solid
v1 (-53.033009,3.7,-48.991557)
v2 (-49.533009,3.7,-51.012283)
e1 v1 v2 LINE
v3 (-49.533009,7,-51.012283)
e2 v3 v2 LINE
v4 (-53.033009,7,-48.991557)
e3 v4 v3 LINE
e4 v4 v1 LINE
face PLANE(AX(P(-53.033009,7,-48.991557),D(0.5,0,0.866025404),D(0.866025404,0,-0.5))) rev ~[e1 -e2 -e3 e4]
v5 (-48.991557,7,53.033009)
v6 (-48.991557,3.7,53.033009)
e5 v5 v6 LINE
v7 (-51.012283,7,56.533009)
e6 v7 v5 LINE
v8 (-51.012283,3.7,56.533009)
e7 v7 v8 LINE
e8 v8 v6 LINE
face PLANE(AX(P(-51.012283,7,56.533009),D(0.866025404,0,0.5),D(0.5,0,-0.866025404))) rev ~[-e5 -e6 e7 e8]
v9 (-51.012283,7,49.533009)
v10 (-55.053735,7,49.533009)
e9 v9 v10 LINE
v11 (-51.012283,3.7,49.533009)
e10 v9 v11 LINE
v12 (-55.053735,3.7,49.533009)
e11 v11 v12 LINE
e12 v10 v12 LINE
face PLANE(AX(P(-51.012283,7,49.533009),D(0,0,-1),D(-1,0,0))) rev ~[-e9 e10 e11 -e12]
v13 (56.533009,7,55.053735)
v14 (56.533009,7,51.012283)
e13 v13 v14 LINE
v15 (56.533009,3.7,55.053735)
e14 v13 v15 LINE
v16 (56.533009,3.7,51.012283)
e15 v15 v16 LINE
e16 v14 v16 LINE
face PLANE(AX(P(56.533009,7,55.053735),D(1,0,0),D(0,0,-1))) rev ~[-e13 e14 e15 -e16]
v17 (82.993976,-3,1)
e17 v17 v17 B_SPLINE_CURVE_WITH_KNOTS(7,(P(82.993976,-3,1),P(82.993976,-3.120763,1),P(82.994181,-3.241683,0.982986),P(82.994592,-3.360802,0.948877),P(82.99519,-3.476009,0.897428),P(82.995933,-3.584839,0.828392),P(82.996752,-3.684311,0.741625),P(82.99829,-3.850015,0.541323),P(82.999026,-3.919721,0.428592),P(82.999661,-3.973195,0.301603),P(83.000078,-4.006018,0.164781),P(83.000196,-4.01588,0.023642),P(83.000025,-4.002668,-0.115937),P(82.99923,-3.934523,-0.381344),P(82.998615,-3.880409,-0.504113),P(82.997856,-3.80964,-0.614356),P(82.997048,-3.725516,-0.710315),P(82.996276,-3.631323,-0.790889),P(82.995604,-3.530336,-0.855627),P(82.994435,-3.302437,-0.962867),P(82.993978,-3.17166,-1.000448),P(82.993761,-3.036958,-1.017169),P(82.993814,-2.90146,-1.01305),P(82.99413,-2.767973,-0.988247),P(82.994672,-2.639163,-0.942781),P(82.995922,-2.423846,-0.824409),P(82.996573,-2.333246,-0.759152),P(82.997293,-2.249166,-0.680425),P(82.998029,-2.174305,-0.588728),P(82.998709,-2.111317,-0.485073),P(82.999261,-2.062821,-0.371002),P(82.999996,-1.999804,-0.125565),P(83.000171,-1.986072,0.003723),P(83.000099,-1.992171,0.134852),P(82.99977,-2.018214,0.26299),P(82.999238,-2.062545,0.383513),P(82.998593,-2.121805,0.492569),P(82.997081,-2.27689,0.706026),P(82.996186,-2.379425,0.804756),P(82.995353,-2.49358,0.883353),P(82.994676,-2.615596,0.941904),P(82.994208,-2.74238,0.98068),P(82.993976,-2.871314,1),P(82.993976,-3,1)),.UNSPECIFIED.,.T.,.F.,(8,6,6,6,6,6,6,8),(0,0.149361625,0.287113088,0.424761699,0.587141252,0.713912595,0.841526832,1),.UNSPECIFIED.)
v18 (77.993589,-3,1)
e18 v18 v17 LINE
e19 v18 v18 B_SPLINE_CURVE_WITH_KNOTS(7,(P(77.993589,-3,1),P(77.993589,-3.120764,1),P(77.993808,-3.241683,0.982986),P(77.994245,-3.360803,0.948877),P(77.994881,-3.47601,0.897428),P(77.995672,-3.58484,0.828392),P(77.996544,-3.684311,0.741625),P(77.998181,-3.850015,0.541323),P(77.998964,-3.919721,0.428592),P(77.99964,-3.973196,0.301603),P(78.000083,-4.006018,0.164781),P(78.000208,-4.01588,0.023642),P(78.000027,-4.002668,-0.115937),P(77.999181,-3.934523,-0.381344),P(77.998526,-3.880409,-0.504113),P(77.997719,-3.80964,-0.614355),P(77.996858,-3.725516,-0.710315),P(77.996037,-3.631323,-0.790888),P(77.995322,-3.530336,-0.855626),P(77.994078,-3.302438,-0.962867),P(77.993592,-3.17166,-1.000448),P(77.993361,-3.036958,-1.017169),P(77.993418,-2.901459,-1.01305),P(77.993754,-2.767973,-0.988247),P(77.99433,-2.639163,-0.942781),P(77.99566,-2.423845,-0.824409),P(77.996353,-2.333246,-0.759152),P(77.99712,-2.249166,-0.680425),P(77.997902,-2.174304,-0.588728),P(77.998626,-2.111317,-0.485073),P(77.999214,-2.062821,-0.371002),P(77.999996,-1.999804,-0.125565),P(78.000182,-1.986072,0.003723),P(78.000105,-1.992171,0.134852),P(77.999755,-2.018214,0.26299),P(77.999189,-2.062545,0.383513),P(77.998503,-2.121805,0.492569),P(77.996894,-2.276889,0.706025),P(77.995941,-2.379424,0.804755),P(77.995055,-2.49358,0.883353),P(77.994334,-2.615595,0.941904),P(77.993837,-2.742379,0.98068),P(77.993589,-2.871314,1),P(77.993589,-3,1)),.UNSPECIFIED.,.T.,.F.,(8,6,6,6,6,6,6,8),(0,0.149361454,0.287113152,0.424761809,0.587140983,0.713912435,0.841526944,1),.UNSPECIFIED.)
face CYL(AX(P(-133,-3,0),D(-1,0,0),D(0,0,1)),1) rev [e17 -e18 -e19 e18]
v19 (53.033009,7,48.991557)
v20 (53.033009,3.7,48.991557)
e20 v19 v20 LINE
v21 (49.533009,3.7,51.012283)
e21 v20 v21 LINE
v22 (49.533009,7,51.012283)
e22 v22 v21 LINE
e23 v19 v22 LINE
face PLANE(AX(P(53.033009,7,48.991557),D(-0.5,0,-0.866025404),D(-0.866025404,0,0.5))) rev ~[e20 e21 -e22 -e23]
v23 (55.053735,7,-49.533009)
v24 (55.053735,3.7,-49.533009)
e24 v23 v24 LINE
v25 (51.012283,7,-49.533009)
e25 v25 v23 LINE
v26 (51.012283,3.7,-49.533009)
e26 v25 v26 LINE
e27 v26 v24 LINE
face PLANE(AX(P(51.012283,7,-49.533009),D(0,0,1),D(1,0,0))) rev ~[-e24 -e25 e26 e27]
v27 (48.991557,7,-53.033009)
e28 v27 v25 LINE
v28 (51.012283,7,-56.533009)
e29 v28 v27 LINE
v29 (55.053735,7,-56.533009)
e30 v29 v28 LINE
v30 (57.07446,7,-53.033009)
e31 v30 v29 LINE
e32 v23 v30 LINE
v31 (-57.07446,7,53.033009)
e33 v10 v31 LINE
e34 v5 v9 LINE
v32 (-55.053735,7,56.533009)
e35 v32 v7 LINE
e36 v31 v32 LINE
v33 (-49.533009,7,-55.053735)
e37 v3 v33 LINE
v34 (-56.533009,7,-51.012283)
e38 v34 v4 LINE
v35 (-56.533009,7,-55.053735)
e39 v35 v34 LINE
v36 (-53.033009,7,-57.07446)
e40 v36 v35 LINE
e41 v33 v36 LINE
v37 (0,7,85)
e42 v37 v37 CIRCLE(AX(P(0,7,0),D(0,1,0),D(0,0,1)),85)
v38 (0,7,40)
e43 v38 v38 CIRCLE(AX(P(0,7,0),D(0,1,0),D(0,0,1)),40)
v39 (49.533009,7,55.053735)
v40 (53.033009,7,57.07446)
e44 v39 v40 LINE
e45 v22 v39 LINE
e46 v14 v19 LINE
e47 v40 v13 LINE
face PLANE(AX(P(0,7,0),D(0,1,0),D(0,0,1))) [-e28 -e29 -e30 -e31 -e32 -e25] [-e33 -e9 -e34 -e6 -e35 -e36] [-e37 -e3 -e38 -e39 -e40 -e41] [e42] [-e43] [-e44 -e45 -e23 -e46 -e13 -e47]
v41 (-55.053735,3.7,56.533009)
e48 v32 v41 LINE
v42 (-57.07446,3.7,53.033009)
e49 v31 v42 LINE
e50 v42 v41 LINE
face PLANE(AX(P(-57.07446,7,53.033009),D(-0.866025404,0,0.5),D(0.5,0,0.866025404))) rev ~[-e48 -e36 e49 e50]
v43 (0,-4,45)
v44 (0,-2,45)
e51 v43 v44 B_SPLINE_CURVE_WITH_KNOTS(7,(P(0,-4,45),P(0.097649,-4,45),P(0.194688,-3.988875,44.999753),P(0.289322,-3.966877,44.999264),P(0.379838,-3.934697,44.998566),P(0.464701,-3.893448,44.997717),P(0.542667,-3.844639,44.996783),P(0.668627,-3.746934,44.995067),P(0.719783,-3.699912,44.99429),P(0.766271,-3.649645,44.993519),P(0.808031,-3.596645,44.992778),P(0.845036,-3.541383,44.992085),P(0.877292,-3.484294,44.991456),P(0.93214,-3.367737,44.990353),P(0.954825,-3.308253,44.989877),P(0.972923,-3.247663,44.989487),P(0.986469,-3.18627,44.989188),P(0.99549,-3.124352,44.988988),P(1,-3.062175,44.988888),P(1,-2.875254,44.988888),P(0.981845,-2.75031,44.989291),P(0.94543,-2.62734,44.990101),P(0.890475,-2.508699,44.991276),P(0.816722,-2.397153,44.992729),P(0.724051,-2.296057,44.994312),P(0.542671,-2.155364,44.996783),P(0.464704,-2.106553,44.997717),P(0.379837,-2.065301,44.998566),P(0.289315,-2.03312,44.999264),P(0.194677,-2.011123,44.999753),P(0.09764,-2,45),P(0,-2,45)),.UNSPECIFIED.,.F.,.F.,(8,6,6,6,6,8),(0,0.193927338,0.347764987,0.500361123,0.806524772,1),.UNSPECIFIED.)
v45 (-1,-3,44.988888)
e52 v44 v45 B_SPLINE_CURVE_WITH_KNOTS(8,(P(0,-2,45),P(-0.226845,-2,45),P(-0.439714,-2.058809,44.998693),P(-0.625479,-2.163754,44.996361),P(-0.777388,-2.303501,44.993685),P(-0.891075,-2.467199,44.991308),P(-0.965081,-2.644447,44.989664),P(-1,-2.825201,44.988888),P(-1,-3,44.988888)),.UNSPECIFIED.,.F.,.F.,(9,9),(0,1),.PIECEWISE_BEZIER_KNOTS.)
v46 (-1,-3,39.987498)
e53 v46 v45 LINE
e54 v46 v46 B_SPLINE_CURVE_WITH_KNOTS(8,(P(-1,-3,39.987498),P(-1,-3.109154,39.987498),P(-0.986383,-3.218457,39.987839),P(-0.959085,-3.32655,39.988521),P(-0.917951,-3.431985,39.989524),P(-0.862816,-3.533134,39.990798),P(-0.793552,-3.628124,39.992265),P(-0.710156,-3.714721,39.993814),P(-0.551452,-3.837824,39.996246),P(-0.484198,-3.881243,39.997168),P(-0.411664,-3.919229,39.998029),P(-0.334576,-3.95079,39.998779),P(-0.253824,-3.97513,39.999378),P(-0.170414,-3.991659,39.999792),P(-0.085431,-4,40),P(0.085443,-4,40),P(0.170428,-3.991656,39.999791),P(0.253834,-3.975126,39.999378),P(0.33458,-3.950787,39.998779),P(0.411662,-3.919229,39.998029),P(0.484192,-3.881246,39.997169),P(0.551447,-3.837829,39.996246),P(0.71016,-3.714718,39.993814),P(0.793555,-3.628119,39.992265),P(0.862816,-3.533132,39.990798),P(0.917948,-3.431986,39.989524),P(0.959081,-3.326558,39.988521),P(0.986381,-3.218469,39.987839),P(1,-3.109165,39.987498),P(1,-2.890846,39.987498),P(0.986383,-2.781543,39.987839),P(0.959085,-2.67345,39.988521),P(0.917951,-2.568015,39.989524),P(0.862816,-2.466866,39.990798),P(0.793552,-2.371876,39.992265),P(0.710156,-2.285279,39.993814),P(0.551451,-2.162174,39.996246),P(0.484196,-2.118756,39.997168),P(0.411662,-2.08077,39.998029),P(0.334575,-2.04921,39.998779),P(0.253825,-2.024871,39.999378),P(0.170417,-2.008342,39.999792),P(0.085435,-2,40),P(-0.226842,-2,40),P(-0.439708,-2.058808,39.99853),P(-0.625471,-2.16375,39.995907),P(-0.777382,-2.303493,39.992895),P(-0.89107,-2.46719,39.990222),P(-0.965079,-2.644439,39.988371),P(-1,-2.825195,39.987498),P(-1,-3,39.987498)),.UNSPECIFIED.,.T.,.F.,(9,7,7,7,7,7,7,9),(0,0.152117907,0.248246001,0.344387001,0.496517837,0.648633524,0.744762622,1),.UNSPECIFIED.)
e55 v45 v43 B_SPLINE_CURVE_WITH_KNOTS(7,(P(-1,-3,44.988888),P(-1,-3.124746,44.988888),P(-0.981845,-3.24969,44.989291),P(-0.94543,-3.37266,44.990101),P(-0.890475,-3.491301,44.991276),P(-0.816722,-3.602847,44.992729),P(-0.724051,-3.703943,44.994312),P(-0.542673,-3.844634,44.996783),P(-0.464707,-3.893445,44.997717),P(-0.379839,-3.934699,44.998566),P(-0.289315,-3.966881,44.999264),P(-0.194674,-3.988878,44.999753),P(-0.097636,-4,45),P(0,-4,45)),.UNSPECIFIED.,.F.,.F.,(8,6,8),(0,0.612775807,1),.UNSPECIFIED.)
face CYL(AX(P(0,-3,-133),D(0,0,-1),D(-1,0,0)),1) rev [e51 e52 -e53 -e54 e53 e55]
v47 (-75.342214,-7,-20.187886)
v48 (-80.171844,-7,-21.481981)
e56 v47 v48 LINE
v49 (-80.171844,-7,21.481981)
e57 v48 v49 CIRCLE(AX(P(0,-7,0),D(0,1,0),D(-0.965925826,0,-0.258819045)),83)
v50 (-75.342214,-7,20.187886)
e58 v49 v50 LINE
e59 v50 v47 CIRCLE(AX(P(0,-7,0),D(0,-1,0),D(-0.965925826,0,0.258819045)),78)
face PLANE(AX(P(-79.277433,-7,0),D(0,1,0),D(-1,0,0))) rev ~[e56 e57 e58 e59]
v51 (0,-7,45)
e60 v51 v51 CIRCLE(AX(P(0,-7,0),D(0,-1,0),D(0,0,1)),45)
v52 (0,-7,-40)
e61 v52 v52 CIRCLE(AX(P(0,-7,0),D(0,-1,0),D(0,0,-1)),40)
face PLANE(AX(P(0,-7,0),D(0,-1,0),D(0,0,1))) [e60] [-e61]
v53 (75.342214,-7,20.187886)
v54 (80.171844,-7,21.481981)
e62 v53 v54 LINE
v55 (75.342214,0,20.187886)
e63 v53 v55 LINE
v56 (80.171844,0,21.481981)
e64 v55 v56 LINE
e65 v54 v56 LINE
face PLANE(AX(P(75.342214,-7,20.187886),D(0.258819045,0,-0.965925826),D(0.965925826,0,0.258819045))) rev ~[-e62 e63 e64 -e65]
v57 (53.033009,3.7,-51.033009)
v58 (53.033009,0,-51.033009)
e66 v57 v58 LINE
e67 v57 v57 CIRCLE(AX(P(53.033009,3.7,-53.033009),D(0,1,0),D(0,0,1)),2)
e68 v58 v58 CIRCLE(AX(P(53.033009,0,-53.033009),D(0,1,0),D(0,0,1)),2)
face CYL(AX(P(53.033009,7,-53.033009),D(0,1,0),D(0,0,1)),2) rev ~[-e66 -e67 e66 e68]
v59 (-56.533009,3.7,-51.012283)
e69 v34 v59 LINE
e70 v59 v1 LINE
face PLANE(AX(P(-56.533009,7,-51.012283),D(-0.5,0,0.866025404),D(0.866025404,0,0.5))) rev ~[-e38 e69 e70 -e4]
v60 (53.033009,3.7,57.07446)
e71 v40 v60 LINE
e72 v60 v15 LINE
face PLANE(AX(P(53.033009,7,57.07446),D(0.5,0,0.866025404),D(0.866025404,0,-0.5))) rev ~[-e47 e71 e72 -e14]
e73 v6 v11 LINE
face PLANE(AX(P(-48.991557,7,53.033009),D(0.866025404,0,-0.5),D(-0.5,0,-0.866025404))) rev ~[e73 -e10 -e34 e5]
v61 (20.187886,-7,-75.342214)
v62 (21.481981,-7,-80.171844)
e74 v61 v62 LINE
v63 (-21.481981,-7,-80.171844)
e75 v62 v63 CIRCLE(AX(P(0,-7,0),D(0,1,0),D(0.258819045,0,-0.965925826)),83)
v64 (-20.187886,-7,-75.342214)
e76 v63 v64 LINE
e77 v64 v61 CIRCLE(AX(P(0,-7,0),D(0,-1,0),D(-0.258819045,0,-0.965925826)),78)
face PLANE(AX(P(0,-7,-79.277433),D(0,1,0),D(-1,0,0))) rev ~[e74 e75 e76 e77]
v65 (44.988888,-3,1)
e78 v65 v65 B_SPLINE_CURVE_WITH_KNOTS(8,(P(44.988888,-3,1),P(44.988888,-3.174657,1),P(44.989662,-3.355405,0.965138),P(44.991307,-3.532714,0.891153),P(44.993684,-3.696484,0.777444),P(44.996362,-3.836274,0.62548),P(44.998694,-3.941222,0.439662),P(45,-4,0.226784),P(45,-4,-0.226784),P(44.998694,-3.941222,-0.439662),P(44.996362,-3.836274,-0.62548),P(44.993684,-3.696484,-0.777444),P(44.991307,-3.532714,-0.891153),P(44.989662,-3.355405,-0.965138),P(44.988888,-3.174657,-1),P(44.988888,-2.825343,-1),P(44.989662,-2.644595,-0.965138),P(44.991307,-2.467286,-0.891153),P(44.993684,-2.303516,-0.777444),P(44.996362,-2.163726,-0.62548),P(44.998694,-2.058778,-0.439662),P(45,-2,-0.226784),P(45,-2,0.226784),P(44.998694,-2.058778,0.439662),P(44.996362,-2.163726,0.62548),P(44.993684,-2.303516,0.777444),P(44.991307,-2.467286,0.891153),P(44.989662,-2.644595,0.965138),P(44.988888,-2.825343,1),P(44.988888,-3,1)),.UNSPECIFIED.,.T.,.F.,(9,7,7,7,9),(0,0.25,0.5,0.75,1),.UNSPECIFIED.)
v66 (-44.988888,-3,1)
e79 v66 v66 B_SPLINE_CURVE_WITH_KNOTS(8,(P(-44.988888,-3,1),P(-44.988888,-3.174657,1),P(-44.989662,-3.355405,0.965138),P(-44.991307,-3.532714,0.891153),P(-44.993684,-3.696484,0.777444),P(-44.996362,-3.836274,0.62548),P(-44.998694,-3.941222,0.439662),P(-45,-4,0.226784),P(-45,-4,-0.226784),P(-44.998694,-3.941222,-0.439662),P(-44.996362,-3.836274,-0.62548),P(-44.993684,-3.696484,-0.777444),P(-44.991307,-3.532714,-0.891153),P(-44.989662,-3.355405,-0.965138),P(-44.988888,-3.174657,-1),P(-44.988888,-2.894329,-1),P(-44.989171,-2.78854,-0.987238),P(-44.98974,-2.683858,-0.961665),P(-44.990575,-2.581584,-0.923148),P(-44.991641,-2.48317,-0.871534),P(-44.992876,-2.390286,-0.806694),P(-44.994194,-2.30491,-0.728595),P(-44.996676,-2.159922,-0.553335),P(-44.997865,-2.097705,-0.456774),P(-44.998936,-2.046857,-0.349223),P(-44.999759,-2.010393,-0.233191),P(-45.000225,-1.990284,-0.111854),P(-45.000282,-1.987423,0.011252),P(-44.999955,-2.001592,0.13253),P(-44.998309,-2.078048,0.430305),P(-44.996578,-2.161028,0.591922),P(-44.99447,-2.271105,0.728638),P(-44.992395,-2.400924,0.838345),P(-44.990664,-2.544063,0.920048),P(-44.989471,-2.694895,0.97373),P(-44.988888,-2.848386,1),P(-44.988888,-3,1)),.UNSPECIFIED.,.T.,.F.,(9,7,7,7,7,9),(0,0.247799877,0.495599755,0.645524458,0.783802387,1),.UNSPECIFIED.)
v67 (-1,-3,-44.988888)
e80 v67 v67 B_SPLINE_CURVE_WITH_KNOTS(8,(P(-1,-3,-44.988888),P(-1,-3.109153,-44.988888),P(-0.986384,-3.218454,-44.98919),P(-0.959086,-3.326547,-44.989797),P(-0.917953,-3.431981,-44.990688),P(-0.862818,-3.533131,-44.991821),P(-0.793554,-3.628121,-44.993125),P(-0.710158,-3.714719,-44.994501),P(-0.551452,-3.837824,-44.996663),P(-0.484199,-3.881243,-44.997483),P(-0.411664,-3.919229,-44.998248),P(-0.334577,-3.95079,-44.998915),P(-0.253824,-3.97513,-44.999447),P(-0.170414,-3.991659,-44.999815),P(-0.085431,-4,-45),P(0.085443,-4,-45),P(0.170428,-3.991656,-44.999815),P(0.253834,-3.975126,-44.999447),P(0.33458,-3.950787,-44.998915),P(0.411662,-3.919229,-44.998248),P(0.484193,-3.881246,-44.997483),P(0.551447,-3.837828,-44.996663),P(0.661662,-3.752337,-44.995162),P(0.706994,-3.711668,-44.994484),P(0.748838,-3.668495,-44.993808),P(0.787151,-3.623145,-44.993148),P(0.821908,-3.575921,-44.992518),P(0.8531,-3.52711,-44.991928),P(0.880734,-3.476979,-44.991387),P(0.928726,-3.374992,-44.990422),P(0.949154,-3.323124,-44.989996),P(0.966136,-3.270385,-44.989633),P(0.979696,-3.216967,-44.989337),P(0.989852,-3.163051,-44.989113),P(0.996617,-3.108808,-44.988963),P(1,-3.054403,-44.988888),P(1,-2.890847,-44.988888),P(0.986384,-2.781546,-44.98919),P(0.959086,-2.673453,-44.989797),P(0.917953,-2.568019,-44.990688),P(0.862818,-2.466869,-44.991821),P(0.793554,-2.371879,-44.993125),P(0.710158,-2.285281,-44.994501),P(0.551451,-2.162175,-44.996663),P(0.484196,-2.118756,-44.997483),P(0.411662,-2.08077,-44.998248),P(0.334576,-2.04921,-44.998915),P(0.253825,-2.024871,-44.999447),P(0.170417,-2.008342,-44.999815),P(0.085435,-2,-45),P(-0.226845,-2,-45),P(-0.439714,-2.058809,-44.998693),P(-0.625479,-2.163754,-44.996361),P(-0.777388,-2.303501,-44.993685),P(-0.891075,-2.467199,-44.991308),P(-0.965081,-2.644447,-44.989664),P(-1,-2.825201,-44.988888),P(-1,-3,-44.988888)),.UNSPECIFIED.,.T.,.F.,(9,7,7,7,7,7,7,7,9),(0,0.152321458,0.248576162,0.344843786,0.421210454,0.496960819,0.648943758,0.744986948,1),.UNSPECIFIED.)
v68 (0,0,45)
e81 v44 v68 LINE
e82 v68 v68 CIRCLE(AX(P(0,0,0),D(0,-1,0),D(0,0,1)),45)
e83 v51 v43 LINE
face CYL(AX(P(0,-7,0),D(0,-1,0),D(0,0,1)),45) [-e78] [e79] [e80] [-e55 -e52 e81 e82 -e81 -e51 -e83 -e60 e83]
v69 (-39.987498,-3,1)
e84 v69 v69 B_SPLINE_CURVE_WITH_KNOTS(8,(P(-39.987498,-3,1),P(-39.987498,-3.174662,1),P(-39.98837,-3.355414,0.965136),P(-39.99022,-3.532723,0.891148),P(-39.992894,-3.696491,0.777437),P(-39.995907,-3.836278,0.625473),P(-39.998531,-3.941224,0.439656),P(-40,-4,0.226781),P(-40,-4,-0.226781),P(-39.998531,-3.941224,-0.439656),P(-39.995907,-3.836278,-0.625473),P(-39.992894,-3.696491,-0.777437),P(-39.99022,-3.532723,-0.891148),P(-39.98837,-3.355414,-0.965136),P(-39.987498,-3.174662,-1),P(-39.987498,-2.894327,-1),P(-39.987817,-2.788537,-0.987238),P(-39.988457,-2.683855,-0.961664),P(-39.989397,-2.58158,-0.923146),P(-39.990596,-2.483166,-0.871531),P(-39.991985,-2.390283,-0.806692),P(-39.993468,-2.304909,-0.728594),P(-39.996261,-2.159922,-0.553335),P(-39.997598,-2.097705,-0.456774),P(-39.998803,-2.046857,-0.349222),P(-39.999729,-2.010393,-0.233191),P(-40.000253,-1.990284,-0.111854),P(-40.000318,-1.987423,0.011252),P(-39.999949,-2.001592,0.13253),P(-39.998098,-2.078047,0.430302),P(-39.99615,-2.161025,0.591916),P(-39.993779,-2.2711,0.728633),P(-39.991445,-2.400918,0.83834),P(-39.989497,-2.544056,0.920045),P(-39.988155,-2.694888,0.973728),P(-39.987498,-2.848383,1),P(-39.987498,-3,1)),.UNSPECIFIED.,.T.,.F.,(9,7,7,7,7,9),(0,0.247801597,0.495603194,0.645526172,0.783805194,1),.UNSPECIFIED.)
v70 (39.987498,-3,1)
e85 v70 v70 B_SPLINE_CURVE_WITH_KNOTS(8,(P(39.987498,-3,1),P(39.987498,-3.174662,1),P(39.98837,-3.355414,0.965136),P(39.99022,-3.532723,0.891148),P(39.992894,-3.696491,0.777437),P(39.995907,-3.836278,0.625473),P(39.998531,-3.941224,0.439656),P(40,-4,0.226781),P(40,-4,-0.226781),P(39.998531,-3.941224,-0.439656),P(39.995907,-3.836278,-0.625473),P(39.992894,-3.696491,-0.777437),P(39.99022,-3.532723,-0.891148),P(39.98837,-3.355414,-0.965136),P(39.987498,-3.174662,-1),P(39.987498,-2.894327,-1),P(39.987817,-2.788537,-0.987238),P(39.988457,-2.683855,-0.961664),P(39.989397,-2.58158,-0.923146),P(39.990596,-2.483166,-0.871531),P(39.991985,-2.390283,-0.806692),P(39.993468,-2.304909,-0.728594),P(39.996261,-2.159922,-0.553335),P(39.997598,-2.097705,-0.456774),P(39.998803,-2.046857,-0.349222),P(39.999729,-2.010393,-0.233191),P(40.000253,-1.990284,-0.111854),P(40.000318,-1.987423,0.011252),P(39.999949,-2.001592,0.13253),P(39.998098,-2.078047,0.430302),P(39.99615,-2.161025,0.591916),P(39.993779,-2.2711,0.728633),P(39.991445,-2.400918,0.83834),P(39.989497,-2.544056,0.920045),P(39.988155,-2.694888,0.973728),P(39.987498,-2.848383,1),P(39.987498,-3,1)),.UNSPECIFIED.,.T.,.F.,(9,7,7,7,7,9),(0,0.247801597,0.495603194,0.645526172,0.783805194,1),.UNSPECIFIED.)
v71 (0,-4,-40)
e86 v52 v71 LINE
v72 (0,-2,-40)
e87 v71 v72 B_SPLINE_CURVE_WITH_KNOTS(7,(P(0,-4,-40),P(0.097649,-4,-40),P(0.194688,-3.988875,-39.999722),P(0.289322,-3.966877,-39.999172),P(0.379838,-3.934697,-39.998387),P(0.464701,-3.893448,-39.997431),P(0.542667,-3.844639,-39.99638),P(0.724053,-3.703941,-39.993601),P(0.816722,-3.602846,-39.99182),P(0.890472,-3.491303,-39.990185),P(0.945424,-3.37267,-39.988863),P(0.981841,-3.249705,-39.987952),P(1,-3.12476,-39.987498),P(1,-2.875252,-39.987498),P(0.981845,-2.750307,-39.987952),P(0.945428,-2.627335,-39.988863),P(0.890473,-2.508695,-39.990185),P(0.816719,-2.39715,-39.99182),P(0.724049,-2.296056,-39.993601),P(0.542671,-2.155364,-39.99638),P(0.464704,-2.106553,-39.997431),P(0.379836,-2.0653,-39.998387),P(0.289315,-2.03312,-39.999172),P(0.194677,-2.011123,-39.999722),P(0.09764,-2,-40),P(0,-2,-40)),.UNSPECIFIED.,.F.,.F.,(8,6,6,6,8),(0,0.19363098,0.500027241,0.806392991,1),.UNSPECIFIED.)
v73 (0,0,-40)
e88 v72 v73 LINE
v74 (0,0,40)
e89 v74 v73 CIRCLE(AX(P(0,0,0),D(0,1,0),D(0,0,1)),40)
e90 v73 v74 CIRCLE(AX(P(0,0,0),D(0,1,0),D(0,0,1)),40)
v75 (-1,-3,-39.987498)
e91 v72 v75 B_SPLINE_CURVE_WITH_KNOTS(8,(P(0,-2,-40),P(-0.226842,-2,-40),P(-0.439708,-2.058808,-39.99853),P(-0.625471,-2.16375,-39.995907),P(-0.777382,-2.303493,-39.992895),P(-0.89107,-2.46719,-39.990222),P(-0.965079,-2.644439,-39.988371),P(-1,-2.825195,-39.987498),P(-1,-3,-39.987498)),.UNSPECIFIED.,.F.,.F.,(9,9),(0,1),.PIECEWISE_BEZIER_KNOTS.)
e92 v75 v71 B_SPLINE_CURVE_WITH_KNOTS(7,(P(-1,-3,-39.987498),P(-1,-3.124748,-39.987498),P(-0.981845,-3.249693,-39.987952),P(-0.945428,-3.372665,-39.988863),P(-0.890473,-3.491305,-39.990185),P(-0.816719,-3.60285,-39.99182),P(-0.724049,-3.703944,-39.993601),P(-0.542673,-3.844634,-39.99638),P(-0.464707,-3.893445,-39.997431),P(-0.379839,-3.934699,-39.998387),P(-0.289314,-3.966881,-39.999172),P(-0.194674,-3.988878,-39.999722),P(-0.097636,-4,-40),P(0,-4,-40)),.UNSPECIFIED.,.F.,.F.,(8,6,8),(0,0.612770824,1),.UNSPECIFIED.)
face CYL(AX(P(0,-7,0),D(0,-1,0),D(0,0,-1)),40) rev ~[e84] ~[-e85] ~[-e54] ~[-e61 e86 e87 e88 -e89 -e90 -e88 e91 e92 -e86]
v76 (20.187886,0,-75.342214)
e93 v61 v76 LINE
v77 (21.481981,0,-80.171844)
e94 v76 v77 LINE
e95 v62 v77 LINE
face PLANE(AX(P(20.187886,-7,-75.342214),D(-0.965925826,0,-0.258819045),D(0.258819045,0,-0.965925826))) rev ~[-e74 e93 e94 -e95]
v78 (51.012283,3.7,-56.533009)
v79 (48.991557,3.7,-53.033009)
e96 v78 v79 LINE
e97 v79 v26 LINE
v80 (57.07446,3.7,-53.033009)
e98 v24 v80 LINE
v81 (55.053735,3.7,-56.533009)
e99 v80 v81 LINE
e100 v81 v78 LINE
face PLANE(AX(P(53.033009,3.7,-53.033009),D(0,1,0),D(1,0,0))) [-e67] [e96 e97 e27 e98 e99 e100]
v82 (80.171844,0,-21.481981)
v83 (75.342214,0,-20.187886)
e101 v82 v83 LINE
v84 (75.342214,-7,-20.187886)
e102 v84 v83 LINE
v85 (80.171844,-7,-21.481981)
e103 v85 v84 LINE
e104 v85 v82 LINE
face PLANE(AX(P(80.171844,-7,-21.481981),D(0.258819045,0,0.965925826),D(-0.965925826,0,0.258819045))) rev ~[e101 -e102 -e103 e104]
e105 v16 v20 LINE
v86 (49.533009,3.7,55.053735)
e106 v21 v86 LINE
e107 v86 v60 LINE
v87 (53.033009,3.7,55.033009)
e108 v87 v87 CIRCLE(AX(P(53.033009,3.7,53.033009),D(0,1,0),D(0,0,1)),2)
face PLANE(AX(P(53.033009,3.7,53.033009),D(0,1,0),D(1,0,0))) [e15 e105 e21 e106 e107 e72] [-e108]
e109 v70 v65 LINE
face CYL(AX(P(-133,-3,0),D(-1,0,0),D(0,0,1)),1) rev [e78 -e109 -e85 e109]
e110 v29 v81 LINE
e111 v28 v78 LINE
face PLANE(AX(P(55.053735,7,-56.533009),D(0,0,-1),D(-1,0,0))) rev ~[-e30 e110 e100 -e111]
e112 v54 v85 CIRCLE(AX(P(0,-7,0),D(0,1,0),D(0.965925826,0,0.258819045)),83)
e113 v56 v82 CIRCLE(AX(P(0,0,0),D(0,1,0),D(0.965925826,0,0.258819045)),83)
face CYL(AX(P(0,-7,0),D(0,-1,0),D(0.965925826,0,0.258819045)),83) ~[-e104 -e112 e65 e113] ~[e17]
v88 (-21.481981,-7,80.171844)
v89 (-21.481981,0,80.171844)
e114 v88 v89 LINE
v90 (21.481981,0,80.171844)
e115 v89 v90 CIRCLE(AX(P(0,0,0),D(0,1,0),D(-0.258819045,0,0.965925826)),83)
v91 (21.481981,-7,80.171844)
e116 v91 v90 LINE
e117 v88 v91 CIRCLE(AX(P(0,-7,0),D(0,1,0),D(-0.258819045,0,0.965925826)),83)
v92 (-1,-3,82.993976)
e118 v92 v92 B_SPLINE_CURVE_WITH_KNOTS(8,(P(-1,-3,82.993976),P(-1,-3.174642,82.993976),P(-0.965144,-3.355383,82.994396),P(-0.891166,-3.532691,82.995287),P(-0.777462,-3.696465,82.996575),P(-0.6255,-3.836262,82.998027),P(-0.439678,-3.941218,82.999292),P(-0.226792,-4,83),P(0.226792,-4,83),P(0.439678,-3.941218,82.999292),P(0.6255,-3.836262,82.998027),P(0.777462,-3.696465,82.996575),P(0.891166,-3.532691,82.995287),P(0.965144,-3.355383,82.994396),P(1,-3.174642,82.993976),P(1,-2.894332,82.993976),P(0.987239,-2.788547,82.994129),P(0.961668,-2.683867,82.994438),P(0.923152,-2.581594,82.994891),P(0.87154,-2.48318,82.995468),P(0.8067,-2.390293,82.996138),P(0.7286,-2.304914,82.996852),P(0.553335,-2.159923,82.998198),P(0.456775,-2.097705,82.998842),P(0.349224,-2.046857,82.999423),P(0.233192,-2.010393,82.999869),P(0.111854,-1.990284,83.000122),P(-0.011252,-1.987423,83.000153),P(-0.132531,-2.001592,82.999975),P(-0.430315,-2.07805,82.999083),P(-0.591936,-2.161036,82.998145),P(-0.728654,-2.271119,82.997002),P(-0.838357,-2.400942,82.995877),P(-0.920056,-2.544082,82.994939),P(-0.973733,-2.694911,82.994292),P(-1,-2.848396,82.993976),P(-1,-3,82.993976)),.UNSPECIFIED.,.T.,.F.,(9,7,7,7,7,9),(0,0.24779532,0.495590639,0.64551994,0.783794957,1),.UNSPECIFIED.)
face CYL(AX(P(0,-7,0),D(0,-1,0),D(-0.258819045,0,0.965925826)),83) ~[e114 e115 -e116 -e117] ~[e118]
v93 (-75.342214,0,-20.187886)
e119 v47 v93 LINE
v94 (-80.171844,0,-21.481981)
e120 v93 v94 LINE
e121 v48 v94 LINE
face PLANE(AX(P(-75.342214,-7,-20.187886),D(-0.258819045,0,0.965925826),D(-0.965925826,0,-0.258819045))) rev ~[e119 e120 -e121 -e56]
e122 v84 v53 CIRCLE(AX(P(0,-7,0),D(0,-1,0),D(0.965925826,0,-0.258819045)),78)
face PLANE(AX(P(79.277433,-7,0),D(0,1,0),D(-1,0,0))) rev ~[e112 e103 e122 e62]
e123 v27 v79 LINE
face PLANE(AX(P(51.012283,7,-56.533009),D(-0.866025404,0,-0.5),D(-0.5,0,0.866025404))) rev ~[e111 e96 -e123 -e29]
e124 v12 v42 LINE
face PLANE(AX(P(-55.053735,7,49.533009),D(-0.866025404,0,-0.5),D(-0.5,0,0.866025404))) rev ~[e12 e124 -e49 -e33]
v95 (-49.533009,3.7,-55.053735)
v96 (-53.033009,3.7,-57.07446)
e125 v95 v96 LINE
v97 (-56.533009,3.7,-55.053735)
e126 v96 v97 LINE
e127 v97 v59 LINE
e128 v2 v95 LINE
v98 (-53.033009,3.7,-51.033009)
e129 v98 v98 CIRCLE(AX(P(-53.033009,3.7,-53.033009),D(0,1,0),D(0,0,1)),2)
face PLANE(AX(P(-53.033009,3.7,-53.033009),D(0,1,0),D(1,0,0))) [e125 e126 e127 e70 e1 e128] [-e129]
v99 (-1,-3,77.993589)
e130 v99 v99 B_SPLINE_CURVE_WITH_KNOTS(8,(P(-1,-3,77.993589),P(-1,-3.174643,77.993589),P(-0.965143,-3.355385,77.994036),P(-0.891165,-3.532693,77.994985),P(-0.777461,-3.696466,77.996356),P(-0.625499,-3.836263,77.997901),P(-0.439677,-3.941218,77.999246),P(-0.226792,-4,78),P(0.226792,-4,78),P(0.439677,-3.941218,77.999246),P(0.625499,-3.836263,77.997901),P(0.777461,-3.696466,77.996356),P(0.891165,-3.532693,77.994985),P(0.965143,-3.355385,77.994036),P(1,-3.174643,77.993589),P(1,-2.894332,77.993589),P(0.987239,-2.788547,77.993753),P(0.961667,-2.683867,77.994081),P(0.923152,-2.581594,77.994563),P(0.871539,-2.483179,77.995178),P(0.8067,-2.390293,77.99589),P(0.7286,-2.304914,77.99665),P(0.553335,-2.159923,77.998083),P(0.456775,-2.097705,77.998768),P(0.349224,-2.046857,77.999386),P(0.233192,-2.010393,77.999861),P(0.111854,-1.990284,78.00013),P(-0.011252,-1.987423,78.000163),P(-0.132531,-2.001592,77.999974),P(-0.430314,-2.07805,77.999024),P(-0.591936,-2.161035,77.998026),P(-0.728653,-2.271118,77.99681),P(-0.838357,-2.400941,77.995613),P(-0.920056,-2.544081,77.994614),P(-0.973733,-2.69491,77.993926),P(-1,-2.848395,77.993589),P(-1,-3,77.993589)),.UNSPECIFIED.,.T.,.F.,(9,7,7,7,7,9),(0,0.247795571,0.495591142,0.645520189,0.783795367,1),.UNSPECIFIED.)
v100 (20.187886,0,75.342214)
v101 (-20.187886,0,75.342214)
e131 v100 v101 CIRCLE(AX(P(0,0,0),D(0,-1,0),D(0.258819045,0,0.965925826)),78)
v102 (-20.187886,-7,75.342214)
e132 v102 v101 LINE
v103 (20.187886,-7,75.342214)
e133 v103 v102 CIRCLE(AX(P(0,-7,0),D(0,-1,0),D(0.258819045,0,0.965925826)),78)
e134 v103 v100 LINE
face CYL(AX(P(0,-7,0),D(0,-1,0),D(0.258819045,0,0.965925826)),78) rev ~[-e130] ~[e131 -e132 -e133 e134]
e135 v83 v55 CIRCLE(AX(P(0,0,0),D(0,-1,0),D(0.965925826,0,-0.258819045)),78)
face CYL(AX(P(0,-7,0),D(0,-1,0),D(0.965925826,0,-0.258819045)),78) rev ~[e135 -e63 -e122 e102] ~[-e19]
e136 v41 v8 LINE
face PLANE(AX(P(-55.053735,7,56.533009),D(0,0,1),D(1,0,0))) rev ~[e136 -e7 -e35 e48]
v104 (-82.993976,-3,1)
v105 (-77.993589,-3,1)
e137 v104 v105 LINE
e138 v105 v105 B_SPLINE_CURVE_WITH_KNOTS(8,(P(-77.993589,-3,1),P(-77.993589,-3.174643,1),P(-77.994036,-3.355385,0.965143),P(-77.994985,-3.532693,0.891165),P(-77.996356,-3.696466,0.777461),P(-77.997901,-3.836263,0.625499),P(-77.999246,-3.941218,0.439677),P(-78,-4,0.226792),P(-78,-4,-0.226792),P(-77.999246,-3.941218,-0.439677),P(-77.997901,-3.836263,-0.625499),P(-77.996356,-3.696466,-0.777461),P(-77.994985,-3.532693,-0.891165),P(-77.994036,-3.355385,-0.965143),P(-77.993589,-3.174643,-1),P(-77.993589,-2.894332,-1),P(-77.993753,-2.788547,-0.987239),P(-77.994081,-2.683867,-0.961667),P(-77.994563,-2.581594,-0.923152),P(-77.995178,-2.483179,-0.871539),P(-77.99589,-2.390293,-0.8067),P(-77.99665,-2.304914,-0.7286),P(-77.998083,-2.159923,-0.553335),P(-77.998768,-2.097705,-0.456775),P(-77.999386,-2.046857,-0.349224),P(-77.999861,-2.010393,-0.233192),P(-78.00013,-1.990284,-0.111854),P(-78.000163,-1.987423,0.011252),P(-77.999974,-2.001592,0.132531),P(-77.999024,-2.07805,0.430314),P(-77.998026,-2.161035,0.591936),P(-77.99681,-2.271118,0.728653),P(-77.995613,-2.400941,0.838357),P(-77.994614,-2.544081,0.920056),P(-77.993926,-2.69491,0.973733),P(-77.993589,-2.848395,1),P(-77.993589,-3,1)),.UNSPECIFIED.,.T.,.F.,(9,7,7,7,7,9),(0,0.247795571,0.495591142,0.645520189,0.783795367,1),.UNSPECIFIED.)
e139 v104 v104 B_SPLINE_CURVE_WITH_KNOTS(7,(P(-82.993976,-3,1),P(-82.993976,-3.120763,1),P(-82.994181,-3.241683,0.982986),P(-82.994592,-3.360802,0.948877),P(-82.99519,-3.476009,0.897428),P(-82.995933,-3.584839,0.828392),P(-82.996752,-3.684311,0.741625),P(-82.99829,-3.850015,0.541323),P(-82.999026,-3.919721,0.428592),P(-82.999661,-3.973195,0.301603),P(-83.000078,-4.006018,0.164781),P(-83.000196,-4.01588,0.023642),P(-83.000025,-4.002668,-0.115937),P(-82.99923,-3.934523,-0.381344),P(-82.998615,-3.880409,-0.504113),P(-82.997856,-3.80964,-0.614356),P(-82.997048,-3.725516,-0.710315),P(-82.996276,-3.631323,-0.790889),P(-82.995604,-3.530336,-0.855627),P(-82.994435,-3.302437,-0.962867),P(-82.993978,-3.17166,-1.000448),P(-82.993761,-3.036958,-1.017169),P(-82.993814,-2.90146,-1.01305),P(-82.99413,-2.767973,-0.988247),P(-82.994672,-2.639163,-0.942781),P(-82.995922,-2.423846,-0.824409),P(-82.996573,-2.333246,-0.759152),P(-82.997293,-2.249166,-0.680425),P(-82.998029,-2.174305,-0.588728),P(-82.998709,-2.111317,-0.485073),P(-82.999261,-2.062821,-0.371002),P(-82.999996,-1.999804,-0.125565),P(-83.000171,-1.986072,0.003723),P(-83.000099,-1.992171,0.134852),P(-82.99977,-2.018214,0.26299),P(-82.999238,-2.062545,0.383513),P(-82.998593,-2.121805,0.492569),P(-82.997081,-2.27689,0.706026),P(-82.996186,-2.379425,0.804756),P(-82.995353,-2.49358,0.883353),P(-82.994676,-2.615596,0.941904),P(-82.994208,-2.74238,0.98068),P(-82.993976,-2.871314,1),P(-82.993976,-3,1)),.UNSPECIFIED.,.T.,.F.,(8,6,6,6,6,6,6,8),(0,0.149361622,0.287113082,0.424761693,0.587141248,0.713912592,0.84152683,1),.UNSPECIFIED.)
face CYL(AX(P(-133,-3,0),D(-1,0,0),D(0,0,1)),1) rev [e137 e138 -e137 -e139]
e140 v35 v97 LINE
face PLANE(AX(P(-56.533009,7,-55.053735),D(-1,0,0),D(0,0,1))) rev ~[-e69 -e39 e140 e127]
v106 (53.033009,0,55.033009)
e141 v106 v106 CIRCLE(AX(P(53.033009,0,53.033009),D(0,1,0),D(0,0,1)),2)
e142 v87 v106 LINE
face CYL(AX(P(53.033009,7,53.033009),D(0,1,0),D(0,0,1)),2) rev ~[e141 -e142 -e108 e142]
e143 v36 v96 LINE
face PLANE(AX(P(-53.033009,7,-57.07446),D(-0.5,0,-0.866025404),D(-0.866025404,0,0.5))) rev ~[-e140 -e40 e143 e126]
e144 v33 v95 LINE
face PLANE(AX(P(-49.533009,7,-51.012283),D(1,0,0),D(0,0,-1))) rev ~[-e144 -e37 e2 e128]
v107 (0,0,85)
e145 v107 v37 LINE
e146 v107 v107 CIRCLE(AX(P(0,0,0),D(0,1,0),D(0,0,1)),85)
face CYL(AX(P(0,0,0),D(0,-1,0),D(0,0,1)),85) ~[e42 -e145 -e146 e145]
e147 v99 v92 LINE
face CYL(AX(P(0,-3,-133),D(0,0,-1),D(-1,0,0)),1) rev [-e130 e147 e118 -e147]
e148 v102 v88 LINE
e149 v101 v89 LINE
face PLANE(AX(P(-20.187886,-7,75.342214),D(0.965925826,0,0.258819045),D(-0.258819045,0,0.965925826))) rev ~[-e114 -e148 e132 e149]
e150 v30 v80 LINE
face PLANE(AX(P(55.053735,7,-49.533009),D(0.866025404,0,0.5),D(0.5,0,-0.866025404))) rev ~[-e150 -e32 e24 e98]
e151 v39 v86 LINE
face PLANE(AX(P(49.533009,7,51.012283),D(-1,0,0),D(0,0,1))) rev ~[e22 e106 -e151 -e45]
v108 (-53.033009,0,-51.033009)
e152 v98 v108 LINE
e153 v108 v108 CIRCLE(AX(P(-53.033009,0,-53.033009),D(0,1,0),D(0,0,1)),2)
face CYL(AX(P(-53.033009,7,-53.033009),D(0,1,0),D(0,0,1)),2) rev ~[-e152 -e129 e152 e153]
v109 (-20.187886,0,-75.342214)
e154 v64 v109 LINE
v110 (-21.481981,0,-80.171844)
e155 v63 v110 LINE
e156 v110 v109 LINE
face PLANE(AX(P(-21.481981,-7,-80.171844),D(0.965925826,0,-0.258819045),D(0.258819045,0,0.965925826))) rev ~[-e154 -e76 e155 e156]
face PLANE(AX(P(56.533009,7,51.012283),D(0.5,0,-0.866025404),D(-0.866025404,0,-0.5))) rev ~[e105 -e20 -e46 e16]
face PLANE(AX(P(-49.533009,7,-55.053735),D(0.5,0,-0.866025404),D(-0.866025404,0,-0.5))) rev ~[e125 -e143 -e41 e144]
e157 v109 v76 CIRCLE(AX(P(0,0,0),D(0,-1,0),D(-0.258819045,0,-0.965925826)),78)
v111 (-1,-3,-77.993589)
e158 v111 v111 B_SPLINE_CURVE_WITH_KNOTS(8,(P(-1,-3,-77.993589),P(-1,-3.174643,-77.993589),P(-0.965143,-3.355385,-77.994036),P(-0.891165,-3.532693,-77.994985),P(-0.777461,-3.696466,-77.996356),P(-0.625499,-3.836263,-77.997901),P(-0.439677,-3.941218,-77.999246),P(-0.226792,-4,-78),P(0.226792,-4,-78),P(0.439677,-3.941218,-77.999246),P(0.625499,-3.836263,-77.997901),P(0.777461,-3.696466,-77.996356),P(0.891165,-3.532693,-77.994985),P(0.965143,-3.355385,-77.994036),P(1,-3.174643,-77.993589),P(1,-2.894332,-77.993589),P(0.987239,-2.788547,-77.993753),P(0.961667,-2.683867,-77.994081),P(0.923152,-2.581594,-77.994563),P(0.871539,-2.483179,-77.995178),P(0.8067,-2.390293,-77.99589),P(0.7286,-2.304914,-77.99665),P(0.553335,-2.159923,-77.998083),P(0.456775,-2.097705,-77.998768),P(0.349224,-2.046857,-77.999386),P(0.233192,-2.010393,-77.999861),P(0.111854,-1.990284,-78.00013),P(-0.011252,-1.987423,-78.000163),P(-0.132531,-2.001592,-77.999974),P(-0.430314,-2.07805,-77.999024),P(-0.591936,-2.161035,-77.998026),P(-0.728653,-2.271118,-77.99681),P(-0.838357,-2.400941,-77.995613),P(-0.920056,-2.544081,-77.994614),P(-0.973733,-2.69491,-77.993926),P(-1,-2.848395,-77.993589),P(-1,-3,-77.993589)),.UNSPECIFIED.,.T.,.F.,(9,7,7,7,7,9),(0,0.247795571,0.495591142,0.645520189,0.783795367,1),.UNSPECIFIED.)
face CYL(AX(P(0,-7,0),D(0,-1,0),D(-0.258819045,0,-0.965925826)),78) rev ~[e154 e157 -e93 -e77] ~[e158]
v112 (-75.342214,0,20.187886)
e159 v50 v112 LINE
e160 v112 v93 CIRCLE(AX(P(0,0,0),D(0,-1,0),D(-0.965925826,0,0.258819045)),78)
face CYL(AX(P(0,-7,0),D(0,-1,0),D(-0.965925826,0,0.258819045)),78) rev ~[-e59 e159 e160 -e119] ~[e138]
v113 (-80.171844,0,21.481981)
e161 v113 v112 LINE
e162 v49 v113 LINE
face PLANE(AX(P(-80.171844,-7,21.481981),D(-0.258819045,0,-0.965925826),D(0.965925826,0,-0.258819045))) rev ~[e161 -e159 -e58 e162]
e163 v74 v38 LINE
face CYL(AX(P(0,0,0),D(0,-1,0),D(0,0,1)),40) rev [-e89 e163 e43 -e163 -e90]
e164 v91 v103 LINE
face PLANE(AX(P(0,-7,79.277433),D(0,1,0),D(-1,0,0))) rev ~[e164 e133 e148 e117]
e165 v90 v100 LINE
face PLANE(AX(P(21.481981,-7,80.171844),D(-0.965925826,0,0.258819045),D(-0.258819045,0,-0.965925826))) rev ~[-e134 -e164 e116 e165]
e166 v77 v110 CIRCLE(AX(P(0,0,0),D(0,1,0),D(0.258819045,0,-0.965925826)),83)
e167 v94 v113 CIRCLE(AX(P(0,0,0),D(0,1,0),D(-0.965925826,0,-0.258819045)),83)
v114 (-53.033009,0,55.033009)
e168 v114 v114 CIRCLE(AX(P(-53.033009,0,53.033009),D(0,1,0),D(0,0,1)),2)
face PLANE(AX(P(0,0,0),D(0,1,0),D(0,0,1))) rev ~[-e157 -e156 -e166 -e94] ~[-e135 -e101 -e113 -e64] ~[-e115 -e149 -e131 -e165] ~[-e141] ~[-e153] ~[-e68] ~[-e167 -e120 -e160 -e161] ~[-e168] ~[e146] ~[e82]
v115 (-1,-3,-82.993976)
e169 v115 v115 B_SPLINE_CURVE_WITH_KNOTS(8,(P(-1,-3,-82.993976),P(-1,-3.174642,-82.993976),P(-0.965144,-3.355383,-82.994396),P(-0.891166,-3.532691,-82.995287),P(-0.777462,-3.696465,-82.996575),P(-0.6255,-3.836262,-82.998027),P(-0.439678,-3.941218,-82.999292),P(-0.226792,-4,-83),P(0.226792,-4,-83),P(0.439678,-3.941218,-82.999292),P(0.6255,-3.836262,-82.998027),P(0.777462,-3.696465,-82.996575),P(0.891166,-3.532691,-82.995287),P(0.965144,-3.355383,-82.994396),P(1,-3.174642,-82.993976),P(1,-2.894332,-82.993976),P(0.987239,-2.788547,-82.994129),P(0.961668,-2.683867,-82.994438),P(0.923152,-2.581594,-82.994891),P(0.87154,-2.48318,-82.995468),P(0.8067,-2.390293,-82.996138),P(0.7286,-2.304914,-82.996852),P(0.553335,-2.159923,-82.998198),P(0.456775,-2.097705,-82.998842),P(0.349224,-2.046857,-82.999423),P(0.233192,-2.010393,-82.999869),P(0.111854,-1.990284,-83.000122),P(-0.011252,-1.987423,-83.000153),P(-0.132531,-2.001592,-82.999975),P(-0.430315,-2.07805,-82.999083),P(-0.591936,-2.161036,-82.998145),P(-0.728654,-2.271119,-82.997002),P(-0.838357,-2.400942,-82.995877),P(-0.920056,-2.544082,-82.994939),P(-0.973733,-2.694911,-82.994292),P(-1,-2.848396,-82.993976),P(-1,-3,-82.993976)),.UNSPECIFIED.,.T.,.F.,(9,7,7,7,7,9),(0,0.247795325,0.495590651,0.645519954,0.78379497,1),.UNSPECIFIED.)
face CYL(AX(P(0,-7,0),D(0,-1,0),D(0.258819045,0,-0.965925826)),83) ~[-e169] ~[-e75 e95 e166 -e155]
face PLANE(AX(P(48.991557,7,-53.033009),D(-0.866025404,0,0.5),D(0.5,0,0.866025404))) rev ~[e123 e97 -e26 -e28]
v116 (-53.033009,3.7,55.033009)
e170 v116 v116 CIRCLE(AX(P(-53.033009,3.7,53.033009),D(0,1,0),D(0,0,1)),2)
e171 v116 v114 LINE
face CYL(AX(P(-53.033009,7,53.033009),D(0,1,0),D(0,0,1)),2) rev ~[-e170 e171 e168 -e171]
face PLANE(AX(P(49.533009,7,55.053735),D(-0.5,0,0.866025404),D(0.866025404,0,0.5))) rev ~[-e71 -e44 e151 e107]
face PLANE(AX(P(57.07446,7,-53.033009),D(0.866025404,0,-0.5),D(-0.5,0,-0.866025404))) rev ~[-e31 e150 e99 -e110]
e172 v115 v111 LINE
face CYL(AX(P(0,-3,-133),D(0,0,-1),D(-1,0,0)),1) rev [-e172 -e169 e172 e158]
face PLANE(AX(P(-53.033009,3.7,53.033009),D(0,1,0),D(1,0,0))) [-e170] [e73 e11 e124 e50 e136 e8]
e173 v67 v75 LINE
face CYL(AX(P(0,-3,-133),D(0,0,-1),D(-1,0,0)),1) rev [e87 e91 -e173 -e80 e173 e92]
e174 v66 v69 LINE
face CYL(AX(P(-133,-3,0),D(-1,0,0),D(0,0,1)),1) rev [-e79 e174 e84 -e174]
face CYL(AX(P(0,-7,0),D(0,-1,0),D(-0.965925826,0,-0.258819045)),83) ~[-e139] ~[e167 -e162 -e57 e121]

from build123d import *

# Parameters (mm, degrees)
SKETCH1_R           = 85
SKETCH1_R_2         = 40
BOSS_EXTRUDE1_DEPTH = 7
BOSS_EXTRUDE2_START = 7
SKETCH11_R          = 45
SKETCH11_R_2        = 40
BOSS_EXTRUDE2_DEPTH = 7
CUT_EXTRUDE1_START  = -133
SKETCH13_R          = 1
CUT_EXTRUDE1_DEPTH  = 243
SKETCH14_R          = 2
CUT_EXTRUDE2_DEPTH  = 133
CUT_EXTRUDE3_DEPTH  = 3.3
CIRPATTERN1_COUNT   = 2
CIRPATTERN1_ANGLE   = 90


with BuildPart() as part:
    # Sketch1 → Boss-Extrude1 (new body)
    with BuildSketch(Plane(origin=(0, 0, 0), x_dir=(1, 0, 0), z_dir=(0, 1, 0))):
        Circle(SKETCH1_R)
        Circle(SKETCH1_R_2, mode=Mode.SUBTRACT)
    extrude(amount=BOSS_EXTRUDE1_DEPTH)

    # Sketch11 → Boss-Extrude2 (add)
    # profile 1 of 5: a face of its own
    with BuildSketch(Plane.XZ.offset(BOSS_EXTRUDE2_START)):
        Circle(SKETCH11_R)
        Circle(SKETCH11_R_2, mode=Mode.SUBTRACT)
    # profile 2 of 5: a face of its own
    with BuildSketch(Plane.XZ.offset(BOSS_EXTRUDE2_START)):
        with BuildLine():
            Line((75.342214451, 20.187885518), (80.171843582, 21.481980744))
            ThreePointArc((80.171843582, 21.481980744), (83, 0), (80.171843582, -21.481980744))
            Line((80.171843582, -21.481980744), (75.342214451, -20.187885518))
            ThreePointArc((75.342214451, -20.187885518), (78, 0), (75.342214451, 20.187885518))
        make_face()
    # profile 3 of 5: a face of its own
    with BuildSketch(Plane.XZ.offset(BOSS_EXTRUDE2_START)):
        with BuildLine():
            Line((20.187885518, -75.342214451), (21.481980744, -80.171843582))
            ThreePointArc((21.481980744, -80.171843582), (0, -83), (-21.481980744, -80.171843582))
            Line((-21.481980744, -80.171843582), (-20.187885518, -75.342214451))
            ThreePointArc((-20.187885518, -75.342214451), (0, -78), (20.187885518, -75.342214451))
        make_face()
    # profile 4 of 5: a face of its own
    with BuildSketch(Plane.XZ.offset(BOSS_EXTRUDE2_START)):
        with BuildLine():
            Line((-75.342214451, -20.187885518), (-80.171843582, -21.481980744))
            ThreePointArc((-80.171843582, -21.481980744), (-83, 0), (-80.171843582, 21.481980744))
            Line((-80.171843582, 21.481980744), (-75.342214451, 20.187885518))
            ThreePointArc((-75.342214451, 20.187885518), (-78, 0), (-75.342214451, -20.187885518))
        make_face()
    # profile 5 of 5: a face of its own
    with BuildSketch(Plane.XZ.offset(BOSS_EXTRUDE2_START)):
        with BuildLine():
            Line((-20.187885518, 75.342214451), (-21.481980744, 80.171843582))
            ThreePointArc((-21.481980744, 80.171843582), (0, 83), (21.481980744, 80.171843582))
            Line((21.481980744, 80.171843582), (20.187885518, 75.342214451))
            ThreePointArc((20.187885518, 75.342214451), (0, 78), (-20.187885518, 75.342214451))
        make_face()
    extrude(amount=-BOSS_EXTRUDE2_DEPTH)

    # Sketch13 → Cut-Extrude1 (cut)
    with BuildSketch(Plane(origin=(0, 0, 0), x_dir=(0, 0, -1), z_dir=(1, 0, 0)).offset(CUT_EXTRUDE1_START)):
        with Locations((0, -3)):
            Circle(SKETCH13_R)
    cut_extrude1 = extrude(amount=CUT_EXTRUDE1_DEPTH, mode=Mode.SUBTRACT)

    # Sketch14 → Cut-Extrude2 (cut)
    with BuildSketch(Plane(origin=(0, 7, 0), x_dir=(1, 0, 0), z_dir=(0, 1, 0))):
        with Locations((-53.033008589, 53.033008589)):
            Circle(SKETCH14_R)
        with Locations((53.033008589, 53.033008589)):
            Circle(SKETCH14_R)
        with Locations((53.033008589, -53.033008589)):
            Circle(SKETCH14_R)
        with Locations((-53.033008589, -53.033008589)):
            Circle(SKETCH14_R)
    extrude(amount=-CUT_EXTRUDE2_DEPTH, mode=Mode.SUBTRACT)

    # Sketch15 → Cut-Extrude3 (cut)
    with BuildSketch(Plane(origin=(0, 7, 0), x_dir=(1, 0, 0), z_dir=(0, 1, 0))):
        Polygon((-49.533008589, 55.053734531), (-53.033008589, 57.074460473), (-56.533008589, 55.053734531), (-56.533008589, 51.012282647), (-53.033008589, 48.991556705), (-49.533008589, 51.012282647), align=None)
        Polygon((55.053734531, 49.533008589), (57.074460473, 53.033008589), (55.053734531, 56.533008589), (51.012282647, 56.533008589), (48.991556705, 53.033008589), (51.012282647, 49.533008589), align=None)
        Polygon((49.533008589, -55.053734531), (53.033008589, -57.074460473), (56.533008589, -55.053734531), (56.533008589, -51.012282647), (53.033008589, -48.991556705), (49.533008589, -51.012282647), align=None)
        Polygon((-55.053734531, -49.533008589), (-57.074460473, -53.033008589), (-55.053734531, -56.533008589), (-51.012282647, -56.533008589), (-48.991556705, -53.033008589), (-51.012282647, -49.533008589), align=None)
    extrude(amount=-CUT_EXTRUDE3_DEPTH, mode=Mode.SUBTRACT)

    # CirPattern1: Cut-Extrude1 ×2 about axis
    cirpattern1_axis = Axis((0, 7, 0), (0, 1, 0))
    for i in range(1, CIRPATTERN1_COUNT):
        add(cut_extrude1.rotate(cirpattern1_axis, i * CIRPATTERN1_ANGLE / (CIRPATTERN1_COUNT - 1)), mode=Mode.SUBTRACT)


solid = part.part
